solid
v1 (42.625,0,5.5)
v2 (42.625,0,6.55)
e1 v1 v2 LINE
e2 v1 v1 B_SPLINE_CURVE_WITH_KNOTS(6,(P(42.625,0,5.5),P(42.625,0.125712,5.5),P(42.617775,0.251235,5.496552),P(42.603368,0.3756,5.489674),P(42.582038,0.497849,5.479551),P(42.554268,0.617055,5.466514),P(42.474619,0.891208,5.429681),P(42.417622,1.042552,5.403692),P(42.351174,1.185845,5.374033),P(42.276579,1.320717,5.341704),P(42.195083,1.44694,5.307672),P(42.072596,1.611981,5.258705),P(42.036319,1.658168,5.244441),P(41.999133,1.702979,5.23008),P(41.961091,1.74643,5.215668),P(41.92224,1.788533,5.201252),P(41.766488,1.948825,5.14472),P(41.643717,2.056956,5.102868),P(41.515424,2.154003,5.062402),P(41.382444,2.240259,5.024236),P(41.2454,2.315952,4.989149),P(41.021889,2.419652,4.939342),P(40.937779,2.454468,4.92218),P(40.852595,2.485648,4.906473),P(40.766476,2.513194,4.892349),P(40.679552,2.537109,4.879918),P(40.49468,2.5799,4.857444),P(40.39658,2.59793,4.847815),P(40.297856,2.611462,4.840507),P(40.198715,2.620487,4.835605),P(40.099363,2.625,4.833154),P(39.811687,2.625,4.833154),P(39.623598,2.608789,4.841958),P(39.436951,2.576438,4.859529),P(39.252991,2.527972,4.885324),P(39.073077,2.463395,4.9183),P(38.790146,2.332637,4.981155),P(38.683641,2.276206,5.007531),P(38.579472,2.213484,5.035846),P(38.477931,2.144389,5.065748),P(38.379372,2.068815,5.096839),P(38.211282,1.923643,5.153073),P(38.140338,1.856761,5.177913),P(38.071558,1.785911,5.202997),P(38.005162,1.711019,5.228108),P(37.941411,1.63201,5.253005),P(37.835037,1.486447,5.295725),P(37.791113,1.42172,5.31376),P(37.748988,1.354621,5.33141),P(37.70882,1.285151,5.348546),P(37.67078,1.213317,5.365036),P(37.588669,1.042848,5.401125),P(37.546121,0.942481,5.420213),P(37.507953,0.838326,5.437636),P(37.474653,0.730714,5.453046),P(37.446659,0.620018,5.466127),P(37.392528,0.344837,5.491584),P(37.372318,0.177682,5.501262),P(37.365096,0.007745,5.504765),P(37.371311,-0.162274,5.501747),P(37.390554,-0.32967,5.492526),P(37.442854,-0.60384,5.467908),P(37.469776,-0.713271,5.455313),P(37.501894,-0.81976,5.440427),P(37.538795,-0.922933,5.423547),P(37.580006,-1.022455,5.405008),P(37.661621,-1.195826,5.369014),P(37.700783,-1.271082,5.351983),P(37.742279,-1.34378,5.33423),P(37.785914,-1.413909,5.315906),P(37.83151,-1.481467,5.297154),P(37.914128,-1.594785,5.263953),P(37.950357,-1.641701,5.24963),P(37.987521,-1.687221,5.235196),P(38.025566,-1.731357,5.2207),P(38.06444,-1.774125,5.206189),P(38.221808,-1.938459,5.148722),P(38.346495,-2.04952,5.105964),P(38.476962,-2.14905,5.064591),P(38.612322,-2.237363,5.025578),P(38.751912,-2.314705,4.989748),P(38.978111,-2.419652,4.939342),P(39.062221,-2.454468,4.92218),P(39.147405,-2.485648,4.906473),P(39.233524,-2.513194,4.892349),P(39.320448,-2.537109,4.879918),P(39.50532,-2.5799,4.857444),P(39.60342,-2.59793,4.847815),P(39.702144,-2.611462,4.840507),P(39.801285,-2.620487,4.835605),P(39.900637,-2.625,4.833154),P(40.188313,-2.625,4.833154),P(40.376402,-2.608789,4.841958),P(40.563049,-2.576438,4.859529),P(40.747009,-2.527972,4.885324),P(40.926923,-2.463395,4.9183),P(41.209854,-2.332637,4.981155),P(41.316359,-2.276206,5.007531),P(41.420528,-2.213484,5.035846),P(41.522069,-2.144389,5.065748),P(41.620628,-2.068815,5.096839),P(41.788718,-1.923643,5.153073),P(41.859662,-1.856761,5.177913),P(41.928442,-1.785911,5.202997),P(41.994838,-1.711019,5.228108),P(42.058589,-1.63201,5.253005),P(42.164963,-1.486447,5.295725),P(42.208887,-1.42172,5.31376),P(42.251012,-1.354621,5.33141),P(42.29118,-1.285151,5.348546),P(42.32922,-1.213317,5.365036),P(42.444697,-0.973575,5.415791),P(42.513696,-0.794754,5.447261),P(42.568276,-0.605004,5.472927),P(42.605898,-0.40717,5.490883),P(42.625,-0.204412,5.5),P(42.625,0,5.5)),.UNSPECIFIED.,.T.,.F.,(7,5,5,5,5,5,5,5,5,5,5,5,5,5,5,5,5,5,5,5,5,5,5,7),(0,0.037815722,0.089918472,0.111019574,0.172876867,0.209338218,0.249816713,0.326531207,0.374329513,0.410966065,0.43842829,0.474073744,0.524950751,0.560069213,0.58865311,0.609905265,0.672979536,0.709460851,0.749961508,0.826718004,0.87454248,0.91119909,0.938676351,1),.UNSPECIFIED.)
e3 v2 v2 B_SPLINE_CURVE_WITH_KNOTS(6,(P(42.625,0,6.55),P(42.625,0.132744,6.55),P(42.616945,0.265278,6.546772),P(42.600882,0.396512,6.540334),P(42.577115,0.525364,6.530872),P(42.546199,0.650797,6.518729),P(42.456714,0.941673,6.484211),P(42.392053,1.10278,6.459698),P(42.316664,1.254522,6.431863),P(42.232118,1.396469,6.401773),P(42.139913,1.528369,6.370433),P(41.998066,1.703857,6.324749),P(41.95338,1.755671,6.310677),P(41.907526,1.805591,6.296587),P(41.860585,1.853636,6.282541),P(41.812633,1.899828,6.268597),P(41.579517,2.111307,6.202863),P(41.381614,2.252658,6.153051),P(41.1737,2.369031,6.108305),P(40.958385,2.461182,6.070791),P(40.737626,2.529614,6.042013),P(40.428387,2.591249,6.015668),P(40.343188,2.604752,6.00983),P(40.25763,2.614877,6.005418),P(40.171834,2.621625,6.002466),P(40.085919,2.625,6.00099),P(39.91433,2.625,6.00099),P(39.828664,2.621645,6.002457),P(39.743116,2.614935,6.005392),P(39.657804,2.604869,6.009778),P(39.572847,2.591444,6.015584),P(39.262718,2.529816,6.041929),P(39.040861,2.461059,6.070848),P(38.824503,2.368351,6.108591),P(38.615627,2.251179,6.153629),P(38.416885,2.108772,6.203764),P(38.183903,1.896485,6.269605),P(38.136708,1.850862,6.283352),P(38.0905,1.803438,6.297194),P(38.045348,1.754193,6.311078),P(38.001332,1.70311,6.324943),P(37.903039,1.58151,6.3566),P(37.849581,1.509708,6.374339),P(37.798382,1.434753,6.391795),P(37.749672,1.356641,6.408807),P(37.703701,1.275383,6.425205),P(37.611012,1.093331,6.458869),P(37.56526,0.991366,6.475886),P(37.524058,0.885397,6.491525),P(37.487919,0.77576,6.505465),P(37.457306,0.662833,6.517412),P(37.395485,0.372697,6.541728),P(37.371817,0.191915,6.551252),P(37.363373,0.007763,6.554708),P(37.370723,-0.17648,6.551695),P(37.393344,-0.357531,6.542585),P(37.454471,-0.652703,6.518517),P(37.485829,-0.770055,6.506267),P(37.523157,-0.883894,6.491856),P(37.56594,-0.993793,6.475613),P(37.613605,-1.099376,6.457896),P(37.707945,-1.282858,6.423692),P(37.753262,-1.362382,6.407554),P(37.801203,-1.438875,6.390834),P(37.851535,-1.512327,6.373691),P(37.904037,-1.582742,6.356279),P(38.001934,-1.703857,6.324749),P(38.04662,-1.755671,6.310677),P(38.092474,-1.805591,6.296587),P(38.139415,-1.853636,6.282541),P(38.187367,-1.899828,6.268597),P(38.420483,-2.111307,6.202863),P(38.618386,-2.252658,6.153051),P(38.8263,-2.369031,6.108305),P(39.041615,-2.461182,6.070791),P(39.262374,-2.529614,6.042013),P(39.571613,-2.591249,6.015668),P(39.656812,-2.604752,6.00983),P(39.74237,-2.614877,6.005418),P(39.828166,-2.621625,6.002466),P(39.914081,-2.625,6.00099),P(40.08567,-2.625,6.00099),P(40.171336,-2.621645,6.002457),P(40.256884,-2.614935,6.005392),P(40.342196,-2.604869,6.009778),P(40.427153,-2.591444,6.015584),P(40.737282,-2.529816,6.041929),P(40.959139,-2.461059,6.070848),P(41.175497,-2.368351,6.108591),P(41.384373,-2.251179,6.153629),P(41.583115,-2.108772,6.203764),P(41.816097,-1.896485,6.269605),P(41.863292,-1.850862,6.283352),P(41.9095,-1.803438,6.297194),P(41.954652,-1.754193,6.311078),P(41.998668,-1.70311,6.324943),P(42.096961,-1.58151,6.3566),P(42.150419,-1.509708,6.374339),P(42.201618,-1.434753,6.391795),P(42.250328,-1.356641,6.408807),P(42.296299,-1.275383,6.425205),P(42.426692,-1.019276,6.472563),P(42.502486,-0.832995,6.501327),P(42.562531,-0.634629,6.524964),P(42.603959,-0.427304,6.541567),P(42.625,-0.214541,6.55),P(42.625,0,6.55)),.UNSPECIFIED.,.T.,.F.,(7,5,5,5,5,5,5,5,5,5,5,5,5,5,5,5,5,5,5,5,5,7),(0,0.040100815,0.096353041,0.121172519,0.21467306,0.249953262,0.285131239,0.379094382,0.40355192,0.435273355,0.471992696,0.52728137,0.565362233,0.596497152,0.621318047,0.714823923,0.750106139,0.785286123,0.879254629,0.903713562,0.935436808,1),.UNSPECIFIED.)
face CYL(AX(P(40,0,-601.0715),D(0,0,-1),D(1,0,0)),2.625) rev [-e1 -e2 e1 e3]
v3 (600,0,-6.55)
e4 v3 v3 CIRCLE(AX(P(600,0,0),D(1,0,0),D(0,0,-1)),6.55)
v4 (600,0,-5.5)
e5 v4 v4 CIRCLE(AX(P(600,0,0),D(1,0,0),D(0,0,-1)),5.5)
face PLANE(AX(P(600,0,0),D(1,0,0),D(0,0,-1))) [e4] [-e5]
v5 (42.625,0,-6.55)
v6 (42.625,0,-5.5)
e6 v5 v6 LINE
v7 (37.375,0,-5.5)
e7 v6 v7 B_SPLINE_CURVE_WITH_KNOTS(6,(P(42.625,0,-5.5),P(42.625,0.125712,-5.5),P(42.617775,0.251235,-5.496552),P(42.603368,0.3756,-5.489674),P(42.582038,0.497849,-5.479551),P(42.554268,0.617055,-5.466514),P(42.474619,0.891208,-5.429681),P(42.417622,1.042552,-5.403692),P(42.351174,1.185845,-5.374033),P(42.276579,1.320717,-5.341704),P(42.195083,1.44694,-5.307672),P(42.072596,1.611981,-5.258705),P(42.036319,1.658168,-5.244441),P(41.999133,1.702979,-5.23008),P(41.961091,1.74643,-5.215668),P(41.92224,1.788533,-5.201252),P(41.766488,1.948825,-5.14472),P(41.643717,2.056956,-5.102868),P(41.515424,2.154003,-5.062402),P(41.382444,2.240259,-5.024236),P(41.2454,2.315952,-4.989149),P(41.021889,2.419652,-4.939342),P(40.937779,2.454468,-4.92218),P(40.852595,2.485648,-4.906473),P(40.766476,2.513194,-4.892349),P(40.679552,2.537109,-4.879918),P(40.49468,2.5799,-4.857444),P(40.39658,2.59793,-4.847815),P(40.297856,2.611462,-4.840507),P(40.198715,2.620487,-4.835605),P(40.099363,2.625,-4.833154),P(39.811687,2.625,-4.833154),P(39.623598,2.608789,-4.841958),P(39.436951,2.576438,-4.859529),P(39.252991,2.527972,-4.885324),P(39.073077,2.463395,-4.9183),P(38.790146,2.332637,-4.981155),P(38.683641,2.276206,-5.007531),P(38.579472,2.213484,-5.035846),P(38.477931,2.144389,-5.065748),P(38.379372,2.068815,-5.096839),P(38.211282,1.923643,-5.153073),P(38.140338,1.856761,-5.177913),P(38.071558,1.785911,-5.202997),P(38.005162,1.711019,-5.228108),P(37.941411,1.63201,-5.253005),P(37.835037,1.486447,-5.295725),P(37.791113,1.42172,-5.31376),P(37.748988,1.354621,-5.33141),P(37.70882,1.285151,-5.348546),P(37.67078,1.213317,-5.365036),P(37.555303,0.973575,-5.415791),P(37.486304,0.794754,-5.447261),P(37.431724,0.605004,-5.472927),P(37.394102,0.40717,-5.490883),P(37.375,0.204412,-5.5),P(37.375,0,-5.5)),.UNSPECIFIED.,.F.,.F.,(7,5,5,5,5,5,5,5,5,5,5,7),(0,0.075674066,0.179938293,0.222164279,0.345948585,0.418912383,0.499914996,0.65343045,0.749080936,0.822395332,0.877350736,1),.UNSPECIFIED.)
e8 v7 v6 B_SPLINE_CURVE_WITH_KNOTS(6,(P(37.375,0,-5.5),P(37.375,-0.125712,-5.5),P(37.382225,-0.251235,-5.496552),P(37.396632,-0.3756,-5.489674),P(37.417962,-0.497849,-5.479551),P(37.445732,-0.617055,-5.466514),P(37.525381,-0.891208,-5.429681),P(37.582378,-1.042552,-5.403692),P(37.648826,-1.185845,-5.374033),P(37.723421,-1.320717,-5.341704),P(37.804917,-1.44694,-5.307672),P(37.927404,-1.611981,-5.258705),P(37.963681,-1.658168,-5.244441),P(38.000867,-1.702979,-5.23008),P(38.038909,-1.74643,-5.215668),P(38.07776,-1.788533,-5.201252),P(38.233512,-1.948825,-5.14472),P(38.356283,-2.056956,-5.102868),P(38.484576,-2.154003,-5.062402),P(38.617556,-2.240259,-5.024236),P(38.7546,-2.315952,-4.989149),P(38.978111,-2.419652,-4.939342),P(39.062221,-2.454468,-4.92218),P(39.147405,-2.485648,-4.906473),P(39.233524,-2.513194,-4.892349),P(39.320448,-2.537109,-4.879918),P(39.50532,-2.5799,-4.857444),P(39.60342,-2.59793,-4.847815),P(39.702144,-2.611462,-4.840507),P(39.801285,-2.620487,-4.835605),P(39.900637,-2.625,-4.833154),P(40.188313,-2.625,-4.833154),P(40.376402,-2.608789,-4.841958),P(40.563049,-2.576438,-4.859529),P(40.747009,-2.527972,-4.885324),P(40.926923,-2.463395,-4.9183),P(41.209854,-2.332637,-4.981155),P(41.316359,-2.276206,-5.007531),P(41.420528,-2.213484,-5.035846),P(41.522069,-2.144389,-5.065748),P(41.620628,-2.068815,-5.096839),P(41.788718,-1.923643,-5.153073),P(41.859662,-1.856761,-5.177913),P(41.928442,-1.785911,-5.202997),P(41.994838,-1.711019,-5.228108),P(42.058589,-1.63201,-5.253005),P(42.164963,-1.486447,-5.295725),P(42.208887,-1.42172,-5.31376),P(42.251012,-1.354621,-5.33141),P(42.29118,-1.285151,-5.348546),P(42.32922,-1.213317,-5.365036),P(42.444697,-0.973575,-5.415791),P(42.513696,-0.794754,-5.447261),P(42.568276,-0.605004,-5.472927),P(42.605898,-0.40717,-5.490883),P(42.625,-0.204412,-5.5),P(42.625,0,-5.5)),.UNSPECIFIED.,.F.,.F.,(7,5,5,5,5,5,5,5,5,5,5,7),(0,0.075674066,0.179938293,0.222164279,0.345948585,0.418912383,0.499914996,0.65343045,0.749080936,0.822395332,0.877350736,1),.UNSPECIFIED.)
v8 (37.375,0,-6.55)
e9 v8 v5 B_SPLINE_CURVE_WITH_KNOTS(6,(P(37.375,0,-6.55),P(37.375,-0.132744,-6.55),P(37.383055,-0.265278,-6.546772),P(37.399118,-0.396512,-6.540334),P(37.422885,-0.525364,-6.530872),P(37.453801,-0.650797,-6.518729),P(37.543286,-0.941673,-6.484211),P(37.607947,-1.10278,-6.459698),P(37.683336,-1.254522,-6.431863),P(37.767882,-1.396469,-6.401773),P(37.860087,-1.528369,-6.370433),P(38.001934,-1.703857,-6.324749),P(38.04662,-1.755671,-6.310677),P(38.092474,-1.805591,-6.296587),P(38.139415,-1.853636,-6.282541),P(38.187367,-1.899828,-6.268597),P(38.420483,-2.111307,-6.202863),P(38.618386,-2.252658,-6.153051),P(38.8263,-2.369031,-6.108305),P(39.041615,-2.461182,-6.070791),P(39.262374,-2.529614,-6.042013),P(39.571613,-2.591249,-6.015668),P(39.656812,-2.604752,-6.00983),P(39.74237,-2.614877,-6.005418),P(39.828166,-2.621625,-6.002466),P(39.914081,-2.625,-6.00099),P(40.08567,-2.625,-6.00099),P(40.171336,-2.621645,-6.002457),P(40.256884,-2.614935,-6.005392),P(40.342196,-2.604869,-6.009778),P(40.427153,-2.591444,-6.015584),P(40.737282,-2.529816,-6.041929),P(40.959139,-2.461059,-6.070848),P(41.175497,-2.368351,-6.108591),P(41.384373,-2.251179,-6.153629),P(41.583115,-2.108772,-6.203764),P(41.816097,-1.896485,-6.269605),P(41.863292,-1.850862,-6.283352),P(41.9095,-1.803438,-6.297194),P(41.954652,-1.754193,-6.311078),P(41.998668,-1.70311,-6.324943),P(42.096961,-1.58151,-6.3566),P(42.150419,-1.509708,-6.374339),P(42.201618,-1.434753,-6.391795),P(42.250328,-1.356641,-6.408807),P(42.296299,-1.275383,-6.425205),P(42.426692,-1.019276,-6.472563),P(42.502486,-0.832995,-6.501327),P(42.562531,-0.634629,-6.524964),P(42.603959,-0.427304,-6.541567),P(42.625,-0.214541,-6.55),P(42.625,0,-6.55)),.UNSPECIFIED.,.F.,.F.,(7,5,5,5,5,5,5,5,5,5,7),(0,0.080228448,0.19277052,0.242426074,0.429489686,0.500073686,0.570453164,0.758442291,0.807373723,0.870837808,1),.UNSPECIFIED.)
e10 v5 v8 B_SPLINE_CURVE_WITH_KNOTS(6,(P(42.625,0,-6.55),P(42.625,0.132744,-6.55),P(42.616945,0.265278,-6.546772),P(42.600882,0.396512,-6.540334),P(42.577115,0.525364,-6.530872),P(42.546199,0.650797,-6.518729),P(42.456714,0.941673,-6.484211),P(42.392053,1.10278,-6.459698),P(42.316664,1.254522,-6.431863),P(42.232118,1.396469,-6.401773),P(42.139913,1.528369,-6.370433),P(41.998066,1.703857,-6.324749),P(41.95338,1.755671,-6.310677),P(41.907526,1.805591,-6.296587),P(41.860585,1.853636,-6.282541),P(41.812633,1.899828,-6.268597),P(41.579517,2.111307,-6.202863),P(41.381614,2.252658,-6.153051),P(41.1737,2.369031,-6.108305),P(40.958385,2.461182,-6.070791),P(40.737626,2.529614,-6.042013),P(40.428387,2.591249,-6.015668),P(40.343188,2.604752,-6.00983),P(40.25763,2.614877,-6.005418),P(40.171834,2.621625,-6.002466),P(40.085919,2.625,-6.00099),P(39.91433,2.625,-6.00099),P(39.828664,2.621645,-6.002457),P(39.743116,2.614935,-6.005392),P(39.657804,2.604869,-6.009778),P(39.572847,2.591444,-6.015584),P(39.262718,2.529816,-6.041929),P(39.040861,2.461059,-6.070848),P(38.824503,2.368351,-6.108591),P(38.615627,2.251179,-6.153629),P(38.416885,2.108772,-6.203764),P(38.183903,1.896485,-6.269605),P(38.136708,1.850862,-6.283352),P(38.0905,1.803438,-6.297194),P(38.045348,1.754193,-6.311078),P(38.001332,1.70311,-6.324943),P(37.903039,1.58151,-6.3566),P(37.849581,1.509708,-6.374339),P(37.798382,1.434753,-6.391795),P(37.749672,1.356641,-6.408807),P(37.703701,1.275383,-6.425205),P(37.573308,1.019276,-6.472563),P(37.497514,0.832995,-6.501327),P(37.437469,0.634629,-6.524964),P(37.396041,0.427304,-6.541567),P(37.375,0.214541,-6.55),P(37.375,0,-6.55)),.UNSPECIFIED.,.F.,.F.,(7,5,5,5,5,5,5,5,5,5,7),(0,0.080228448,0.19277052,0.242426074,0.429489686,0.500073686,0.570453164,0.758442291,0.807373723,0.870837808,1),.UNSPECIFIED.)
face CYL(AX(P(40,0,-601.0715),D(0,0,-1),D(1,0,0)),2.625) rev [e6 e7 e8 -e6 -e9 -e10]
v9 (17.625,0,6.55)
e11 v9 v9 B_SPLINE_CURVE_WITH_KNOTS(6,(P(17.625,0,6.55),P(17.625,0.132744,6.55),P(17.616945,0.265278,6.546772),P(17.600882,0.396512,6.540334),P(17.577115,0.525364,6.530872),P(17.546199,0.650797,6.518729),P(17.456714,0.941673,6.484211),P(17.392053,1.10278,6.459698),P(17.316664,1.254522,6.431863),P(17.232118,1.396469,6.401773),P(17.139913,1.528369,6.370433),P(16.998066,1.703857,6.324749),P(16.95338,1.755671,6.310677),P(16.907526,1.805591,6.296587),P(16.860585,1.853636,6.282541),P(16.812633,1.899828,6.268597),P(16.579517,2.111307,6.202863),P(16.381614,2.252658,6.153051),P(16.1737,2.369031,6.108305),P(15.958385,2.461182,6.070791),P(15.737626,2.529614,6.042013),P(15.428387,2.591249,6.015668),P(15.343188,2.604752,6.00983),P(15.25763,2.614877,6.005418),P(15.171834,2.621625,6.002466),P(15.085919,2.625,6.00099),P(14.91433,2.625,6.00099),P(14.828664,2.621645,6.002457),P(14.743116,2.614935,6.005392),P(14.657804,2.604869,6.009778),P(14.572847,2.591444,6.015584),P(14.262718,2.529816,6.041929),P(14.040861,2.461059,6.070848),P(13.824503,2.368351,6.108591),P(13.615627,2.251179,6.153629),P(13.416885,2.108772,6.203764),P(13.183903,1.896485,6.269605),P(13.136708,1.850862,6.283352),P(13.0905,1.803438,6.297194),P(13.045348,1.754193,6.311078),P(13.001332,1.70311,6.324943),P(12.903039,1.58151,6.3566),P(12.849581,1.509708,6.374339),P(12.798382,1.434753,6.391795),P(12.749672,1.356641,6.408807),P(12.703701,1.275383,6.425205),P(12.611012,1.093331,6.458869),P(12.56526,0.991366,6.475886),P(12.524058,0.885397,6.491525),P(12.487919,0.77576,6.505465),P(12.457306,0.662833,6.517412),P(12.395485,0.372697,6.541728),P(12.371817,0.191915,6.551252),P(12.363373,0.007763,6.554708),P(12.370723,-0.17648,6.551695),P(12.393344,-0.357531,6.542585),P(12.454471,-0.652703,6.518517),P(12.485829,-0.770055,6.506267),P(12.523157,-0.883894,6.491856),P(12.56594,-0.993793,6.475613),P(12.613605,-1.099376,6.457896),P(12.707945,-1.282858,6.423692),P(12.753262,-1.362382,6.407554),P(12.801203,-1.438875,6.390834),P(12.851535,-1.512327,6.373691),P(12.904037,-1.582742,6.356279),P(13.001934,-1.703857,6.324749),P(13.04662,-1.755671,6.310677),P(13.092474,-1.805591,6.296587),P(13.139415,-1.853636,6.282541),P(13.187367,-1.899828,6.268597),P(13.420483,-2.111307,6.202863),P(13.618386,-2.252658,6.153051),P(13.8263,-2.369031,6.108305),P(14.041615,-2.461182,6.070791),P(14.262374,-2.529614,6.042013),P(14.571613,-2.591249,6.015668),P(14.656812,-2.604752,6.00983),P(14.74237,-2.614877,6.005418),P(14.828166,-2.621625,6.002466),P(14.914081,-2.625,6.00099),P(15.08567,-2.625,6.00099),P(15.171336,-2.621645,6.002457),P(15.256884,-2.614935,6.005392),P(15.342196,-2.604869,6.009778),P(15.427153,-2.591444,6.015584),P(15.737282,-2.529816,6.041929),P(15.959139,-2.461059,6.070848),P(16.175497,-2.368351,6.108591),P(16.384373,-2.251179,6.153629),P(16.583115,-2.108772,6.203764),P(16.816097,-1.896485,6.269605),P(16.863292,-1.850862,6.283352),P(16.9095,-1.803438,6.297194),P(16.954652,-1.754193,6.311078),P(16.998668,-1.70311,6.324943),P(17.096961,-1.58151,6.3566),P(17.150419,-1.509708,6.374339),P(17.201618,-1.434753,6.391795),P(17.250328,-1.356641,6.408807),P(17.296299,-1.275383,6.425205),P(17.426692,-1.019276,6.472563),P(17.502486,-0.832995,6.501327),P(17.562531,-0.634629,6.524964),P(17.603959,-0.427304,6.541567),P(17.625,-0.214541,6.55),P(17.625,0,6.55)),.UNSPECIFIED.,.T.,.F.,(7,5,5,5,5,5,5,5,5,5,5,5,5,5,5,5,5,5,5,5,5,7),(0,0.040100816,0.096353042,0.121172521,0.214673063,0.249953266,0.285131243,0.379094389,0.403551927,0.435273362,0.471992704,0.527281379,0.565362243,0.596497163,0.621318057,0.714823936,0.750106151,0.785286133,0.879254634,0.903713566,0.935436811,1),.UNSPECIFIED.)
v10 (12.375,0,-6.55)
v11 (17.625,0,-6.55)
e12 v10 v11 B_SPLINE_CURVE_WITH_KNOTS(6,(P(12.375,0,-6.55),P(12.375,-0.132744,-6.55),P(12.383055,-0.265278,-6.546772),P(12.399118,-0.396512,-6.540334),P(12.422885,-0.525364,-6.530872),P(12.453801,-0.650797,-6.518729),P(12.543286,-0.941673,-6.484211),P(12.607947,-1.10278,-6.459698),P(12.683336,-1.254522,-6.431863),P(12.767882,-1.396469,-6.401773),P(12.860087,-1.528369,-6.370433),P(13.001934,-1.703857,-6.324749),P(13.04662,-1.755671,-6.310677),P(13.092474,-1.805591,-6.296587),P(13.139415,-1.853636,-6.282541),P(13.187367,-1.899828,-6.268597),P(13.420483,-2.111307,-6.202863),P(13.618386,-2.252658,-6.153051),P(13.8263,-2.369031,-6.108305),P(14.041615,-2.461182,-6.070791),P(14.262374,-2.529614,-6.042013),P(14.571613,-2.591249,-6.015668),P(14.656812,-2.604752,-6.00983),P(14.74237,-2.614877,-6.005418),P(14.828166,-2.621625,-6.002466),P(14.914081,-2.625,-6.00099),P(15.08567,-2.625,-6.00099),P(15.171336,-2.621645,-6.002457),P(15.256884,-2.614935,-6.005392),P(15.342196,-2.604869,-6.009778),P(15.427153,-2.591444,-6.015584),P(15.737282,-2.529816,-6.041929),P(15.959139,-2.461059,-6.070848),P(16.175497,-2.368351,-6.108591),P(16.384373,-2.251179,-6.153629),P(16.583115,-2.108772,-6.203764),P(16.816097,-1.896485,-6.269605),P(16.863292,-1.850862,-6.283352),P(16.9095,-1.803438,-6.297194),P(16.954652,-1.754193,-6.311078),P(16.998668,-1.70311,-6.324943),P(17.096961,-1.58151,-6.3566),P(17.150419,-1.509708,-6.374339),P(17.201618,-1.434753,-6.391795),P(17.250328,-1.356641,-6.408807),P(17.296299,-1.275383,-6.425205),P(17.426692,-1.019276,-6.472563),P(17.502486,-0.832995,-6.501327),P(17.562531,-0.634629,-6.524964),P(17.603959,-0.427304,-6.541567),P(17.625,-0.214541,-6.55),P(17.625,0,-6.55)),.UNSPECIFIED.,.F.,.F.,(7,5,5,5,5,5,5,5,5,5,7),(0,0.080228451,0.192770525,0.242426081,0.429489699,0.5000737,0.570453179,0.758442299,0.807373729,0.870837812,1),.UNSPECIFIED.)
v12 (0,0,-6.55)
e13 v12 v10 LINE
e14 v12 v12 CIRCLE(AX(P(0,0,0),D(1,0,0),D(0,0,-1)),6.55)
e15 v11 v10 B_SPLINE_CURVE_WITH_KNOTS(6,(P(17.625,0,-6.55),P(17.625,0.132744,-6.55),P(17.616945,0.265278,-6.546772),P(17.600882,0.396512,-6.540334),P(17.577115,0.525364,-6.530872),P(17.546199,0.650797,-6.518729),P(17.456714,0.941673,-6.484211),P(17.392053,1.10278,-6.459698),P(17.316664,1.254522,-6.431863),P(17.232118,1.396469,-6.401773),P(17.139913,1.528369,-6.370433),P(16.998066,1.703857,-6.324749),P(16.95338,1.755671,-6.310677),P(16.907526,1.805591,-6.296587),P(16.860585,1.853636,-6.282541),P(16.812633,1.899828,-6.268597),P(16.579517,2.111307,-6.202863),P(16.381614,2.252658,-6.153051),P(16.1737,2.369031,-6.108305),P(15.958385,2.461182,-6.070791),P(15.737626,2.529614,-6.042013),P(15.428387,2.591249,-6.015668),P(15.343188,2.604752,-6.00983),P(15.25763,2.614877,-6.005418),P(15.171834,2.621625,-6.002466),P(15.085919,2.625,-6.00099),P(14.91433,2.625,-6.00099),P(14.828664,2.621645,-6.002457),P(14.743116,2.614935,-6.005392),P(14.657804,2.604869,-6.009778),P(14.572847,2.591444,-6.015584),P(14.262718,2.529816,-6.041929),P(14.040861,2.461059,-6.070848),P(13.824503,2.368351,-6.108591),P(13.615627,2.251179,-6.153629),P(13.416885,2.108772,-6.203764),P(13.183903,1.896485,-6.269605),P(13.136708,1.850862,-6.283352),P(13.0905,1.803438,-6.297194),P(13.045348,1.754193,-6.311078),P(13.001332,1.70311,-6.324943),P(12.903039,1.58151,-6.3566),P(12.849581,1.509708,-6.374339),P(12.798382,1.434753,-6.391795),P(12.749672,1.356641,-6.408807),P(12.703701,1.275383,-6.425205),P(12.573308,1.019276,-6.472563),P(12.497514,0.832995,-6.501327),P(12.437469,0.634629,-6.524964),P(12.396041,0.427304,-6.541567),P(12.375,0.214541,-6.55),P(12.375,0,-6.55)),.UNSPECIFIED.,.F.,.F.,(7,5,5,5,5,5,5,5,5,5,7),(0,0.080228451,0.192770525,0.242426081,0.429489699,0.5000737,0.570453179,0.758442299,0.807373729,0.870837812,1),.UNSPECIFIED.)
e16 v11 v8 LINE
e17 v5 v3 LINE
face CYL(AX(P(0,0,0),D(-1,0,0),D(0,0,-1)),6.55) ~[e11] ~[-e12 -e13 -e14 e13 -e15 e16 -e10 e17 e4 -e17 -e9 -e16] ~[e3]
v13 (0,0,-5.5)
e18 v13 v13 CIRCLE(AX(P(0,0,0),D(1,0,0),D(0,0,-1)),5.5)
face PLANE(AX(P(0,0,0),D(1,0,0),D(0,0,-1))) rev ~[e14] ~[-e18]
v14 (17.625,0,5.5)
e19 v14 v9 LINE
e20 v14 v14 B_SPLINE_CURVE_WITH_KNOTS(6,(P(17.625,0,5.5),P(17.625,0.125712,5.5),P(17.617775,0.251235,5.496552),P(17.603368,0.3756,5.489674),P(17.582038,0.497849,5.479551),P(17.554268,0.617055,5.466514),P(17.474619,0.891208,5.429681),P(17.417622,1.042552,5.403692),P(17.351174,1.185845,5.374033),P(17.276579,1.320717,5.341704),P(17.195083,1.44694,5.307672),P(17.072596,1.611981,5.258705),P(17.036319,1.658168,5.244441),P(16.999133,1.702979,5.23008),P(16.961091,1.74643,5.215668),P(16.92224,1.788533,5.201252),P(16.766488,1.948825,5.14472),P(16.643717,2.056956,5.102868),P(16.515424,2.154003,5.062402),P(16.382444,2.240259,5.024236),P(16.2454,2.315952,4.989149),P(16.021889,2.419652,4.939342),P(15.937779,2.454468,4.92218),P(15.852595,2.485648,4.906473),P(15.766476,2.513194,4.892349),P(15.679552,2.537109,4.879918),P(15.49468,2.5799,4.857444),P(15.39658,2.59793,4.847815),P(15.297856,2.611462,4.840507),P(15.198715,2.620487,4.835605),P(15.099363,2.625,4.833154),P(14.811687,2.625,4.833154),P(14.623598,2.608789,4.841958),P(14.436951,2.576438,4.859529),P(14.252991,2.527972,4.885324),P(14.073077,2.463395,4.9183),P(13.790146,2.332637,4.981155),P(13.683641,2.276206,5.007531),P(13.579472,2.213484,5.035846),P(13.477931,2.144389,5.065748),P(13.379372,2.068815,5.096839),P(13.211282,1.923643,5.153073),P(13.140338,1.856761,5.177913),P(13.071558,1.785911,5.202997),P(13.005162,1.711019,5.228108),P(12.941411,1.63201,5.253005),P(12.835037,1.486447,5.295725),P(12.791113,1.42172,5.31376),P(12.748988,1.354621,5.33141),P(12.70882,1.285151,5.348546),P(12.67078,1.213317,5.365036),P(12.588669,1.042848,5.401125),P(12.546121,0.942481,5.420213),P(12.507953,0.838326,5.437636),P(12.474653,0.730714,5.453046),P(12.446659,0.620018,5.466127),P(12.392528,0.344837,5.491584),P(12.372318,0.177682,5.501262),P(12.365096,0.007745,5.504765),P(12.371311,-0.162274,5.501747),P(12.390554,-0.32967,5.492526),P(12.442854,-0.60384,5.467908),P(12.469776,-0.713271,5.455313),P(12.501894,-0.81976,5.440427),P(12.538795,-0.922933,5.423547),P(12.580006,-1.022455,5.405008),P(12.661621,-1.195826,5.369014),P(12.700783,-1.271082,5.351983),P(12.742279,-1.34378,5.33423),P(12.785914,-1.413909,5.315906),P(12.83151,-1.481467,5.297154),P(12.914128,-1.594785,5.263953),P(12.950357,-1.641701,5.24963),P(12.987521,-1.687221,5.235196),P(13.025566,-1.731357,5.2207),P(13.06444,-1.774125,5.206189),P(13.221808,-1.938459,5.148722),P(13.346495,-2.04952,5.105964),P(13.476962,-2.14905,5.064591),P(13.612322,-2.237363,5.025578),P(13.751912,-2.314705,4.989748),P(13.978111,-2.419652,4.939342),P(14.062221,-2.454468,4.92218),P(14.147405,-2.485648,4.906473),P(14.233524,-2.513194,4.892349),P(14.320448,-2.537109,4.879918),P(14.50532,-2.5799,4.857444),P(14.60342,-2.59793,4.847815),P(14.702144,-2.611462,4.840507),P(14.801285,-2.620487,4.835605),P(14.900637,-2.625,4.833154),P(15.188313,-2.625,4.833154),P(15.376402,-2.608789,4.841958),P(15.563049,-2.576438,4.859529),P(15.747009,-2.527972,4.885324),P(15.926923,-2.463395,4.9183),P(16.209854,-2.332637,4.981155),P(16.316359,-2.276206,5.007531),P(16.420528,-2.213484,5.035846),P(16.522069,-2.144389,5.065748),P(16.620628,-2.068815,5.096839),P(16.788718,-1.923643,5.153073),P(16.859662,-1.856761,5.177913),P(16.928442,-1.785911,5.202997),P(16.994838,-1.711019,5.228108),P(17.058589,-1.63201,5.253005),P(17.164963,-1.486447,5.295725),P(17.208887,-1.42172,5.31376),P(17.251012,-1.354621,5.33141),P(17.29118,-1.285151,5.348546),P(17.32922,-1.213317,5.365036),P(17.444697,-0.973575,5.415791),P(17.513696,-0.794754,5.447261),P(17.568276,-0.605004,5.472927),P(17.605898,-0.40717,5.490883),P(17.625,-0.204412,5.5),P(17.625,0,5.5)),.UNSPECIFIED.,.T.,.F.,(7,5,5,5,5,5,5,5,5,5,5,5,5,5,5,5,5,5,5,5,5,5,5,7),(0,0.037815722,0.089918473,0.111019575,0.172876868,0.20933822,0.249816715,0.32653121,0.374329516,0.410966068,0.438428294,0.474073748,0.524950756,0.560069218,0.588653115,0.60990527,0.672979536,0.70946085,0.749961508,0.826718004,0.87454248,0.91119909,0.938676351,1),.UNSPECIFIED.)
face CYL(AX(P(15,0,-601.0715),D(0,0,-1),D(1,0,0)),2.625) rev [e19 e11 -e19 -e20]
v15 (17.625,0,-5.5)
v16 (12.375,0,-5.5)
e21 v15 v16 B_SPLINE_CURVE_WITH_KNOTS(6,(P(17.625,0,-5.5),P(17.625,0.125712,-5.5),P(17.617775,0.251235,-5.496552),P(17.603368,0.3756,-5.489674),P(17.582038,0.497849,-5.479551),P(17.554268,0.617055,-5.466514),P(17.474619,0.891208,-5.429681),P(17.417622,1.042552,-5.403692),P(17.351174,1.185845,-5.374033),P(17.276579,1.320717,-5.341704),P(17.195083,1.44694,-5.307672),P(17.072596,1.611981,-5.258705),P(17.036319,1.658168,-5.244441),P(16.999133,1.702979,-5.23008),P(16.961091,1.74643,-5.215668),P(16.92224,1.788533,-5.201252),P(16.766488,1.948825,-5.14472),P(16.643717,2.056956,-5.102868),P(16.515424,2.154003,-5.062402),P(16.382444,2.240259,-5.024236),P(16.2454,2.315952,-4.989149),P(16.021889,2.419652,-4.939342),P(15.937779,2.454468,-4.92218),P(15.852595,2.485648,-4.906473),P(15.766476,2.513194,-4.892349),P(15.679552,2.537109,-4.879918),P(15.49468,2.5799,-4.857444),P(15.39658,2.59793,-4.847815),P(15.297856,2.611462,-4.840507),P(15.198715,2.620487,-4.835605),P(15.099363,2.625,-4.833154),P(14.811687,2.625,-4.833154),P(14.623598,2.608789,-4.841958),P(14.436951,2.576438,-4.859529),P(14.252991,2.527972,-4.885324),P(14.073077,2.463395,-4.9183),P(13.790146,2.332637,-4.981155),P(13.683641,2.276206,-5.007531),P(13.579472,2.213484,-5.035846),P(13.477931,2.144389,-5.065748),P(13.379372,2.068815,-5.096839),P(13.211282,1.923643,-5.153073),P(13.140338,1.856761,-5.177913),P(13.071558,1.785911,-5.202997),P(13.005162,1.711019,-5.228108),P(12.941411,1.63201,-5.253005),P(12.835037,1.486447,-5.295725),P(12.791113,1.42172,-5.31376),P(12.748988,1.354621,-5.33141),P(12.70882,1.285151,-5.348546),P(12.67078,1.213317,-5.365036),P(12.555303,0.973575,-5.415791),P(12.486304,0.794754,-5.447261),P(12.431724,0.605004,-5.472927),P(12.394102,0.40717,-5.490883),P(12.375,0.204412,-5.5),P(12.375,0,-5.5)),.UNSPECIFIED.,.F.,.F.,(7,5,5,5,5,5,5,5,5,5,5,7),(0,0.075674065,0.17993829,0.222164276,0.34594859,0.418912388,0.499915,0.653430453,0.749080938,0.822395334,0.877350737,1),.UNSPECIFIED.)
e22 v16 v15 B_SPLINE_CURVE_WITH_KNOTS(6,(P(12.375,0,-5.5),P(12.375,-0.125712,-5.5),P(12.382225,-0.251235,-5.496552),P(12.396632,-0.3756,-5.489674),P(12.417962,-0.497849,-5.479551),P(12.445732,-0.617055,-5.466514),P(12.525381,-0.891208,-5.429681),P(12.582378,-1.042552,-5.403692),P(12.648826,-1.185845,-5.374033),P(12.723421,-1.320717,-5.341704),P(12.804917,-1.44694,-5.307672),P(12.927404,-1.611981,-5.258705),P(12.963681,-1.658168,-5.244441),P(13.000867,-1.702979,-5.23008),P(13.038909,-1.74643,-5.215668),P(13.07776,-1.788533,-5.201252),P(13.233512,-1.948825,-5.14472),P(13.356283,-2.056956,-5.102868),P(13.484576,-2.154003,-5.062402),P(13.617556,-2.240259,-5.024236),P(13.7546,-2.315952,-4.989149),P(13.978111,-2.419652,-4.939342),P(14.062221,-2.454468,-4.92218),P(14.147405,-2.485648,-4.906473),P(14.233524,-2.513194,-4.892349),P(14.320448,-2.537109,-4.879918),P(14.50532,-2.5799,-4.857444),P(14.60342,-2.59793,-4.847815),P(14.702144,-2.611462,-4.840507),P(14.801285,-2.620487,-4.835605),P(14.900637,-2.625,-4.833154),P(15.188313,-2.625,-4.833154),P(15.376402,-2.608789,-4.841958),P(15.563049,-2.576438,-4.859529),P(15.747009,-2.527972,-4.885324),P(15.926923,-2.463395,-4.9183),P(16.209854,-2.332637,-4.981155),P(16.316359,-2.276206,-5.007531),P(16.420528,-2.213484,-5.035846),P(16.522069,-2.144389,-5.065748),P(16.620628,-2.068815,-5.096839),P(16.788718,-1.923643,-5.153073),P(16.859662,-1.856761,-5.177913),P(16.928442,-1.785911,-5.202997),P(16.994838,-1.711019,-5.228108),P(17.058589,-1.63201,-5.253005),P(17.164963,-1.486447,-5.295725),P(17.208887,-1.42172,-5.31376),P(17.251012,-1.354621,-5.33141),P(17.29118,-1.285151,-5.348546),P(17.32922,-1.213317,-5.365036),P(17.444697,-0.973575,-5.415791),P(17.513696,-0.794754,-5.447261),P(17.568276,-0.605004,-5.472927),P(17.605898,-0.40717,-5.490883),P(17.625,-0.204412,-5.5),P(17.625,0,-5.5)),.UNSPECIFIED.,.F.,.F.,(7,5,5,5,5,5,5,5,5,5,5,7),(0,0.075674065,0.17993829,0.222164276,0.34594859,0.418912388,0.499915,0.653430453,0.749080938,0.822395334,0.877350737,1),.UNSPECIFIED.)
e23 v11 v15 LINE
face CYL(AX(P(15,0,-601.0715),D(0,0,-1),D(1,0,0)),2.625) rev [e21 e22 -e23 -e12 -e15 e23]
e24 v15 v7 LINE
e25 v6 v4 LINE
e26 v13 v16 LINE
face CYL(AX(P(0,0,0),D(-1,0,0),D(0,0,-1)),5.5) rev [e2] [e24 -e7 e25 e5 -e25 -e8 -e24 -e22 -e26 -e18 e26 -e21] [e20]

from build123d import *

# Parameters (mm, degrees)
SKETCH1_R               = 6.55
SKETCH1_R_2             = 5.5
BOSS_EXTRUDE1_DEPTH     = 600
CUT_EXTRUDE1_DEPTH      = 601.071499906
CUT_EXTRUDE1_DEPTH_BACK = 601.071499906
SKETCH3_R               = 2.625


with BuildPart() as part:
    # Sketch1 → Boss-Extrude1 (new body)
    with BuildSketch(Plane(origin=(0, 0, 0), x_dir=(0, 0, -1), z_dir=(1, 0, 0))):
        Circle(SKETCH1_R)
        Circle(SKETCH1_R_2, mode=Mode.SUBTRACT)
    extrude(amount=BOSS_EXTRUDE1_DEPTH)

    # Sketch3 → Cut-Extrude1 (cut, two sides: drawn at the far end of the back side and taken through both)
    with BuildSketch(Plane.XY.offset(-CUT_EXTRUDE1_DEPTH_BACK)):
        with Locations((15, 0)):
            Circle(SKETCH3_R)
        with Locations((40, 0)):
            Circle(SKETCH3_R)
    extrude(amount=CUT_EXTRUDE1_DEPTH + CUT_EXTRUDE1_DEPTH_BACK, mode=Mode.SUBTRACT)


solid = part.part
